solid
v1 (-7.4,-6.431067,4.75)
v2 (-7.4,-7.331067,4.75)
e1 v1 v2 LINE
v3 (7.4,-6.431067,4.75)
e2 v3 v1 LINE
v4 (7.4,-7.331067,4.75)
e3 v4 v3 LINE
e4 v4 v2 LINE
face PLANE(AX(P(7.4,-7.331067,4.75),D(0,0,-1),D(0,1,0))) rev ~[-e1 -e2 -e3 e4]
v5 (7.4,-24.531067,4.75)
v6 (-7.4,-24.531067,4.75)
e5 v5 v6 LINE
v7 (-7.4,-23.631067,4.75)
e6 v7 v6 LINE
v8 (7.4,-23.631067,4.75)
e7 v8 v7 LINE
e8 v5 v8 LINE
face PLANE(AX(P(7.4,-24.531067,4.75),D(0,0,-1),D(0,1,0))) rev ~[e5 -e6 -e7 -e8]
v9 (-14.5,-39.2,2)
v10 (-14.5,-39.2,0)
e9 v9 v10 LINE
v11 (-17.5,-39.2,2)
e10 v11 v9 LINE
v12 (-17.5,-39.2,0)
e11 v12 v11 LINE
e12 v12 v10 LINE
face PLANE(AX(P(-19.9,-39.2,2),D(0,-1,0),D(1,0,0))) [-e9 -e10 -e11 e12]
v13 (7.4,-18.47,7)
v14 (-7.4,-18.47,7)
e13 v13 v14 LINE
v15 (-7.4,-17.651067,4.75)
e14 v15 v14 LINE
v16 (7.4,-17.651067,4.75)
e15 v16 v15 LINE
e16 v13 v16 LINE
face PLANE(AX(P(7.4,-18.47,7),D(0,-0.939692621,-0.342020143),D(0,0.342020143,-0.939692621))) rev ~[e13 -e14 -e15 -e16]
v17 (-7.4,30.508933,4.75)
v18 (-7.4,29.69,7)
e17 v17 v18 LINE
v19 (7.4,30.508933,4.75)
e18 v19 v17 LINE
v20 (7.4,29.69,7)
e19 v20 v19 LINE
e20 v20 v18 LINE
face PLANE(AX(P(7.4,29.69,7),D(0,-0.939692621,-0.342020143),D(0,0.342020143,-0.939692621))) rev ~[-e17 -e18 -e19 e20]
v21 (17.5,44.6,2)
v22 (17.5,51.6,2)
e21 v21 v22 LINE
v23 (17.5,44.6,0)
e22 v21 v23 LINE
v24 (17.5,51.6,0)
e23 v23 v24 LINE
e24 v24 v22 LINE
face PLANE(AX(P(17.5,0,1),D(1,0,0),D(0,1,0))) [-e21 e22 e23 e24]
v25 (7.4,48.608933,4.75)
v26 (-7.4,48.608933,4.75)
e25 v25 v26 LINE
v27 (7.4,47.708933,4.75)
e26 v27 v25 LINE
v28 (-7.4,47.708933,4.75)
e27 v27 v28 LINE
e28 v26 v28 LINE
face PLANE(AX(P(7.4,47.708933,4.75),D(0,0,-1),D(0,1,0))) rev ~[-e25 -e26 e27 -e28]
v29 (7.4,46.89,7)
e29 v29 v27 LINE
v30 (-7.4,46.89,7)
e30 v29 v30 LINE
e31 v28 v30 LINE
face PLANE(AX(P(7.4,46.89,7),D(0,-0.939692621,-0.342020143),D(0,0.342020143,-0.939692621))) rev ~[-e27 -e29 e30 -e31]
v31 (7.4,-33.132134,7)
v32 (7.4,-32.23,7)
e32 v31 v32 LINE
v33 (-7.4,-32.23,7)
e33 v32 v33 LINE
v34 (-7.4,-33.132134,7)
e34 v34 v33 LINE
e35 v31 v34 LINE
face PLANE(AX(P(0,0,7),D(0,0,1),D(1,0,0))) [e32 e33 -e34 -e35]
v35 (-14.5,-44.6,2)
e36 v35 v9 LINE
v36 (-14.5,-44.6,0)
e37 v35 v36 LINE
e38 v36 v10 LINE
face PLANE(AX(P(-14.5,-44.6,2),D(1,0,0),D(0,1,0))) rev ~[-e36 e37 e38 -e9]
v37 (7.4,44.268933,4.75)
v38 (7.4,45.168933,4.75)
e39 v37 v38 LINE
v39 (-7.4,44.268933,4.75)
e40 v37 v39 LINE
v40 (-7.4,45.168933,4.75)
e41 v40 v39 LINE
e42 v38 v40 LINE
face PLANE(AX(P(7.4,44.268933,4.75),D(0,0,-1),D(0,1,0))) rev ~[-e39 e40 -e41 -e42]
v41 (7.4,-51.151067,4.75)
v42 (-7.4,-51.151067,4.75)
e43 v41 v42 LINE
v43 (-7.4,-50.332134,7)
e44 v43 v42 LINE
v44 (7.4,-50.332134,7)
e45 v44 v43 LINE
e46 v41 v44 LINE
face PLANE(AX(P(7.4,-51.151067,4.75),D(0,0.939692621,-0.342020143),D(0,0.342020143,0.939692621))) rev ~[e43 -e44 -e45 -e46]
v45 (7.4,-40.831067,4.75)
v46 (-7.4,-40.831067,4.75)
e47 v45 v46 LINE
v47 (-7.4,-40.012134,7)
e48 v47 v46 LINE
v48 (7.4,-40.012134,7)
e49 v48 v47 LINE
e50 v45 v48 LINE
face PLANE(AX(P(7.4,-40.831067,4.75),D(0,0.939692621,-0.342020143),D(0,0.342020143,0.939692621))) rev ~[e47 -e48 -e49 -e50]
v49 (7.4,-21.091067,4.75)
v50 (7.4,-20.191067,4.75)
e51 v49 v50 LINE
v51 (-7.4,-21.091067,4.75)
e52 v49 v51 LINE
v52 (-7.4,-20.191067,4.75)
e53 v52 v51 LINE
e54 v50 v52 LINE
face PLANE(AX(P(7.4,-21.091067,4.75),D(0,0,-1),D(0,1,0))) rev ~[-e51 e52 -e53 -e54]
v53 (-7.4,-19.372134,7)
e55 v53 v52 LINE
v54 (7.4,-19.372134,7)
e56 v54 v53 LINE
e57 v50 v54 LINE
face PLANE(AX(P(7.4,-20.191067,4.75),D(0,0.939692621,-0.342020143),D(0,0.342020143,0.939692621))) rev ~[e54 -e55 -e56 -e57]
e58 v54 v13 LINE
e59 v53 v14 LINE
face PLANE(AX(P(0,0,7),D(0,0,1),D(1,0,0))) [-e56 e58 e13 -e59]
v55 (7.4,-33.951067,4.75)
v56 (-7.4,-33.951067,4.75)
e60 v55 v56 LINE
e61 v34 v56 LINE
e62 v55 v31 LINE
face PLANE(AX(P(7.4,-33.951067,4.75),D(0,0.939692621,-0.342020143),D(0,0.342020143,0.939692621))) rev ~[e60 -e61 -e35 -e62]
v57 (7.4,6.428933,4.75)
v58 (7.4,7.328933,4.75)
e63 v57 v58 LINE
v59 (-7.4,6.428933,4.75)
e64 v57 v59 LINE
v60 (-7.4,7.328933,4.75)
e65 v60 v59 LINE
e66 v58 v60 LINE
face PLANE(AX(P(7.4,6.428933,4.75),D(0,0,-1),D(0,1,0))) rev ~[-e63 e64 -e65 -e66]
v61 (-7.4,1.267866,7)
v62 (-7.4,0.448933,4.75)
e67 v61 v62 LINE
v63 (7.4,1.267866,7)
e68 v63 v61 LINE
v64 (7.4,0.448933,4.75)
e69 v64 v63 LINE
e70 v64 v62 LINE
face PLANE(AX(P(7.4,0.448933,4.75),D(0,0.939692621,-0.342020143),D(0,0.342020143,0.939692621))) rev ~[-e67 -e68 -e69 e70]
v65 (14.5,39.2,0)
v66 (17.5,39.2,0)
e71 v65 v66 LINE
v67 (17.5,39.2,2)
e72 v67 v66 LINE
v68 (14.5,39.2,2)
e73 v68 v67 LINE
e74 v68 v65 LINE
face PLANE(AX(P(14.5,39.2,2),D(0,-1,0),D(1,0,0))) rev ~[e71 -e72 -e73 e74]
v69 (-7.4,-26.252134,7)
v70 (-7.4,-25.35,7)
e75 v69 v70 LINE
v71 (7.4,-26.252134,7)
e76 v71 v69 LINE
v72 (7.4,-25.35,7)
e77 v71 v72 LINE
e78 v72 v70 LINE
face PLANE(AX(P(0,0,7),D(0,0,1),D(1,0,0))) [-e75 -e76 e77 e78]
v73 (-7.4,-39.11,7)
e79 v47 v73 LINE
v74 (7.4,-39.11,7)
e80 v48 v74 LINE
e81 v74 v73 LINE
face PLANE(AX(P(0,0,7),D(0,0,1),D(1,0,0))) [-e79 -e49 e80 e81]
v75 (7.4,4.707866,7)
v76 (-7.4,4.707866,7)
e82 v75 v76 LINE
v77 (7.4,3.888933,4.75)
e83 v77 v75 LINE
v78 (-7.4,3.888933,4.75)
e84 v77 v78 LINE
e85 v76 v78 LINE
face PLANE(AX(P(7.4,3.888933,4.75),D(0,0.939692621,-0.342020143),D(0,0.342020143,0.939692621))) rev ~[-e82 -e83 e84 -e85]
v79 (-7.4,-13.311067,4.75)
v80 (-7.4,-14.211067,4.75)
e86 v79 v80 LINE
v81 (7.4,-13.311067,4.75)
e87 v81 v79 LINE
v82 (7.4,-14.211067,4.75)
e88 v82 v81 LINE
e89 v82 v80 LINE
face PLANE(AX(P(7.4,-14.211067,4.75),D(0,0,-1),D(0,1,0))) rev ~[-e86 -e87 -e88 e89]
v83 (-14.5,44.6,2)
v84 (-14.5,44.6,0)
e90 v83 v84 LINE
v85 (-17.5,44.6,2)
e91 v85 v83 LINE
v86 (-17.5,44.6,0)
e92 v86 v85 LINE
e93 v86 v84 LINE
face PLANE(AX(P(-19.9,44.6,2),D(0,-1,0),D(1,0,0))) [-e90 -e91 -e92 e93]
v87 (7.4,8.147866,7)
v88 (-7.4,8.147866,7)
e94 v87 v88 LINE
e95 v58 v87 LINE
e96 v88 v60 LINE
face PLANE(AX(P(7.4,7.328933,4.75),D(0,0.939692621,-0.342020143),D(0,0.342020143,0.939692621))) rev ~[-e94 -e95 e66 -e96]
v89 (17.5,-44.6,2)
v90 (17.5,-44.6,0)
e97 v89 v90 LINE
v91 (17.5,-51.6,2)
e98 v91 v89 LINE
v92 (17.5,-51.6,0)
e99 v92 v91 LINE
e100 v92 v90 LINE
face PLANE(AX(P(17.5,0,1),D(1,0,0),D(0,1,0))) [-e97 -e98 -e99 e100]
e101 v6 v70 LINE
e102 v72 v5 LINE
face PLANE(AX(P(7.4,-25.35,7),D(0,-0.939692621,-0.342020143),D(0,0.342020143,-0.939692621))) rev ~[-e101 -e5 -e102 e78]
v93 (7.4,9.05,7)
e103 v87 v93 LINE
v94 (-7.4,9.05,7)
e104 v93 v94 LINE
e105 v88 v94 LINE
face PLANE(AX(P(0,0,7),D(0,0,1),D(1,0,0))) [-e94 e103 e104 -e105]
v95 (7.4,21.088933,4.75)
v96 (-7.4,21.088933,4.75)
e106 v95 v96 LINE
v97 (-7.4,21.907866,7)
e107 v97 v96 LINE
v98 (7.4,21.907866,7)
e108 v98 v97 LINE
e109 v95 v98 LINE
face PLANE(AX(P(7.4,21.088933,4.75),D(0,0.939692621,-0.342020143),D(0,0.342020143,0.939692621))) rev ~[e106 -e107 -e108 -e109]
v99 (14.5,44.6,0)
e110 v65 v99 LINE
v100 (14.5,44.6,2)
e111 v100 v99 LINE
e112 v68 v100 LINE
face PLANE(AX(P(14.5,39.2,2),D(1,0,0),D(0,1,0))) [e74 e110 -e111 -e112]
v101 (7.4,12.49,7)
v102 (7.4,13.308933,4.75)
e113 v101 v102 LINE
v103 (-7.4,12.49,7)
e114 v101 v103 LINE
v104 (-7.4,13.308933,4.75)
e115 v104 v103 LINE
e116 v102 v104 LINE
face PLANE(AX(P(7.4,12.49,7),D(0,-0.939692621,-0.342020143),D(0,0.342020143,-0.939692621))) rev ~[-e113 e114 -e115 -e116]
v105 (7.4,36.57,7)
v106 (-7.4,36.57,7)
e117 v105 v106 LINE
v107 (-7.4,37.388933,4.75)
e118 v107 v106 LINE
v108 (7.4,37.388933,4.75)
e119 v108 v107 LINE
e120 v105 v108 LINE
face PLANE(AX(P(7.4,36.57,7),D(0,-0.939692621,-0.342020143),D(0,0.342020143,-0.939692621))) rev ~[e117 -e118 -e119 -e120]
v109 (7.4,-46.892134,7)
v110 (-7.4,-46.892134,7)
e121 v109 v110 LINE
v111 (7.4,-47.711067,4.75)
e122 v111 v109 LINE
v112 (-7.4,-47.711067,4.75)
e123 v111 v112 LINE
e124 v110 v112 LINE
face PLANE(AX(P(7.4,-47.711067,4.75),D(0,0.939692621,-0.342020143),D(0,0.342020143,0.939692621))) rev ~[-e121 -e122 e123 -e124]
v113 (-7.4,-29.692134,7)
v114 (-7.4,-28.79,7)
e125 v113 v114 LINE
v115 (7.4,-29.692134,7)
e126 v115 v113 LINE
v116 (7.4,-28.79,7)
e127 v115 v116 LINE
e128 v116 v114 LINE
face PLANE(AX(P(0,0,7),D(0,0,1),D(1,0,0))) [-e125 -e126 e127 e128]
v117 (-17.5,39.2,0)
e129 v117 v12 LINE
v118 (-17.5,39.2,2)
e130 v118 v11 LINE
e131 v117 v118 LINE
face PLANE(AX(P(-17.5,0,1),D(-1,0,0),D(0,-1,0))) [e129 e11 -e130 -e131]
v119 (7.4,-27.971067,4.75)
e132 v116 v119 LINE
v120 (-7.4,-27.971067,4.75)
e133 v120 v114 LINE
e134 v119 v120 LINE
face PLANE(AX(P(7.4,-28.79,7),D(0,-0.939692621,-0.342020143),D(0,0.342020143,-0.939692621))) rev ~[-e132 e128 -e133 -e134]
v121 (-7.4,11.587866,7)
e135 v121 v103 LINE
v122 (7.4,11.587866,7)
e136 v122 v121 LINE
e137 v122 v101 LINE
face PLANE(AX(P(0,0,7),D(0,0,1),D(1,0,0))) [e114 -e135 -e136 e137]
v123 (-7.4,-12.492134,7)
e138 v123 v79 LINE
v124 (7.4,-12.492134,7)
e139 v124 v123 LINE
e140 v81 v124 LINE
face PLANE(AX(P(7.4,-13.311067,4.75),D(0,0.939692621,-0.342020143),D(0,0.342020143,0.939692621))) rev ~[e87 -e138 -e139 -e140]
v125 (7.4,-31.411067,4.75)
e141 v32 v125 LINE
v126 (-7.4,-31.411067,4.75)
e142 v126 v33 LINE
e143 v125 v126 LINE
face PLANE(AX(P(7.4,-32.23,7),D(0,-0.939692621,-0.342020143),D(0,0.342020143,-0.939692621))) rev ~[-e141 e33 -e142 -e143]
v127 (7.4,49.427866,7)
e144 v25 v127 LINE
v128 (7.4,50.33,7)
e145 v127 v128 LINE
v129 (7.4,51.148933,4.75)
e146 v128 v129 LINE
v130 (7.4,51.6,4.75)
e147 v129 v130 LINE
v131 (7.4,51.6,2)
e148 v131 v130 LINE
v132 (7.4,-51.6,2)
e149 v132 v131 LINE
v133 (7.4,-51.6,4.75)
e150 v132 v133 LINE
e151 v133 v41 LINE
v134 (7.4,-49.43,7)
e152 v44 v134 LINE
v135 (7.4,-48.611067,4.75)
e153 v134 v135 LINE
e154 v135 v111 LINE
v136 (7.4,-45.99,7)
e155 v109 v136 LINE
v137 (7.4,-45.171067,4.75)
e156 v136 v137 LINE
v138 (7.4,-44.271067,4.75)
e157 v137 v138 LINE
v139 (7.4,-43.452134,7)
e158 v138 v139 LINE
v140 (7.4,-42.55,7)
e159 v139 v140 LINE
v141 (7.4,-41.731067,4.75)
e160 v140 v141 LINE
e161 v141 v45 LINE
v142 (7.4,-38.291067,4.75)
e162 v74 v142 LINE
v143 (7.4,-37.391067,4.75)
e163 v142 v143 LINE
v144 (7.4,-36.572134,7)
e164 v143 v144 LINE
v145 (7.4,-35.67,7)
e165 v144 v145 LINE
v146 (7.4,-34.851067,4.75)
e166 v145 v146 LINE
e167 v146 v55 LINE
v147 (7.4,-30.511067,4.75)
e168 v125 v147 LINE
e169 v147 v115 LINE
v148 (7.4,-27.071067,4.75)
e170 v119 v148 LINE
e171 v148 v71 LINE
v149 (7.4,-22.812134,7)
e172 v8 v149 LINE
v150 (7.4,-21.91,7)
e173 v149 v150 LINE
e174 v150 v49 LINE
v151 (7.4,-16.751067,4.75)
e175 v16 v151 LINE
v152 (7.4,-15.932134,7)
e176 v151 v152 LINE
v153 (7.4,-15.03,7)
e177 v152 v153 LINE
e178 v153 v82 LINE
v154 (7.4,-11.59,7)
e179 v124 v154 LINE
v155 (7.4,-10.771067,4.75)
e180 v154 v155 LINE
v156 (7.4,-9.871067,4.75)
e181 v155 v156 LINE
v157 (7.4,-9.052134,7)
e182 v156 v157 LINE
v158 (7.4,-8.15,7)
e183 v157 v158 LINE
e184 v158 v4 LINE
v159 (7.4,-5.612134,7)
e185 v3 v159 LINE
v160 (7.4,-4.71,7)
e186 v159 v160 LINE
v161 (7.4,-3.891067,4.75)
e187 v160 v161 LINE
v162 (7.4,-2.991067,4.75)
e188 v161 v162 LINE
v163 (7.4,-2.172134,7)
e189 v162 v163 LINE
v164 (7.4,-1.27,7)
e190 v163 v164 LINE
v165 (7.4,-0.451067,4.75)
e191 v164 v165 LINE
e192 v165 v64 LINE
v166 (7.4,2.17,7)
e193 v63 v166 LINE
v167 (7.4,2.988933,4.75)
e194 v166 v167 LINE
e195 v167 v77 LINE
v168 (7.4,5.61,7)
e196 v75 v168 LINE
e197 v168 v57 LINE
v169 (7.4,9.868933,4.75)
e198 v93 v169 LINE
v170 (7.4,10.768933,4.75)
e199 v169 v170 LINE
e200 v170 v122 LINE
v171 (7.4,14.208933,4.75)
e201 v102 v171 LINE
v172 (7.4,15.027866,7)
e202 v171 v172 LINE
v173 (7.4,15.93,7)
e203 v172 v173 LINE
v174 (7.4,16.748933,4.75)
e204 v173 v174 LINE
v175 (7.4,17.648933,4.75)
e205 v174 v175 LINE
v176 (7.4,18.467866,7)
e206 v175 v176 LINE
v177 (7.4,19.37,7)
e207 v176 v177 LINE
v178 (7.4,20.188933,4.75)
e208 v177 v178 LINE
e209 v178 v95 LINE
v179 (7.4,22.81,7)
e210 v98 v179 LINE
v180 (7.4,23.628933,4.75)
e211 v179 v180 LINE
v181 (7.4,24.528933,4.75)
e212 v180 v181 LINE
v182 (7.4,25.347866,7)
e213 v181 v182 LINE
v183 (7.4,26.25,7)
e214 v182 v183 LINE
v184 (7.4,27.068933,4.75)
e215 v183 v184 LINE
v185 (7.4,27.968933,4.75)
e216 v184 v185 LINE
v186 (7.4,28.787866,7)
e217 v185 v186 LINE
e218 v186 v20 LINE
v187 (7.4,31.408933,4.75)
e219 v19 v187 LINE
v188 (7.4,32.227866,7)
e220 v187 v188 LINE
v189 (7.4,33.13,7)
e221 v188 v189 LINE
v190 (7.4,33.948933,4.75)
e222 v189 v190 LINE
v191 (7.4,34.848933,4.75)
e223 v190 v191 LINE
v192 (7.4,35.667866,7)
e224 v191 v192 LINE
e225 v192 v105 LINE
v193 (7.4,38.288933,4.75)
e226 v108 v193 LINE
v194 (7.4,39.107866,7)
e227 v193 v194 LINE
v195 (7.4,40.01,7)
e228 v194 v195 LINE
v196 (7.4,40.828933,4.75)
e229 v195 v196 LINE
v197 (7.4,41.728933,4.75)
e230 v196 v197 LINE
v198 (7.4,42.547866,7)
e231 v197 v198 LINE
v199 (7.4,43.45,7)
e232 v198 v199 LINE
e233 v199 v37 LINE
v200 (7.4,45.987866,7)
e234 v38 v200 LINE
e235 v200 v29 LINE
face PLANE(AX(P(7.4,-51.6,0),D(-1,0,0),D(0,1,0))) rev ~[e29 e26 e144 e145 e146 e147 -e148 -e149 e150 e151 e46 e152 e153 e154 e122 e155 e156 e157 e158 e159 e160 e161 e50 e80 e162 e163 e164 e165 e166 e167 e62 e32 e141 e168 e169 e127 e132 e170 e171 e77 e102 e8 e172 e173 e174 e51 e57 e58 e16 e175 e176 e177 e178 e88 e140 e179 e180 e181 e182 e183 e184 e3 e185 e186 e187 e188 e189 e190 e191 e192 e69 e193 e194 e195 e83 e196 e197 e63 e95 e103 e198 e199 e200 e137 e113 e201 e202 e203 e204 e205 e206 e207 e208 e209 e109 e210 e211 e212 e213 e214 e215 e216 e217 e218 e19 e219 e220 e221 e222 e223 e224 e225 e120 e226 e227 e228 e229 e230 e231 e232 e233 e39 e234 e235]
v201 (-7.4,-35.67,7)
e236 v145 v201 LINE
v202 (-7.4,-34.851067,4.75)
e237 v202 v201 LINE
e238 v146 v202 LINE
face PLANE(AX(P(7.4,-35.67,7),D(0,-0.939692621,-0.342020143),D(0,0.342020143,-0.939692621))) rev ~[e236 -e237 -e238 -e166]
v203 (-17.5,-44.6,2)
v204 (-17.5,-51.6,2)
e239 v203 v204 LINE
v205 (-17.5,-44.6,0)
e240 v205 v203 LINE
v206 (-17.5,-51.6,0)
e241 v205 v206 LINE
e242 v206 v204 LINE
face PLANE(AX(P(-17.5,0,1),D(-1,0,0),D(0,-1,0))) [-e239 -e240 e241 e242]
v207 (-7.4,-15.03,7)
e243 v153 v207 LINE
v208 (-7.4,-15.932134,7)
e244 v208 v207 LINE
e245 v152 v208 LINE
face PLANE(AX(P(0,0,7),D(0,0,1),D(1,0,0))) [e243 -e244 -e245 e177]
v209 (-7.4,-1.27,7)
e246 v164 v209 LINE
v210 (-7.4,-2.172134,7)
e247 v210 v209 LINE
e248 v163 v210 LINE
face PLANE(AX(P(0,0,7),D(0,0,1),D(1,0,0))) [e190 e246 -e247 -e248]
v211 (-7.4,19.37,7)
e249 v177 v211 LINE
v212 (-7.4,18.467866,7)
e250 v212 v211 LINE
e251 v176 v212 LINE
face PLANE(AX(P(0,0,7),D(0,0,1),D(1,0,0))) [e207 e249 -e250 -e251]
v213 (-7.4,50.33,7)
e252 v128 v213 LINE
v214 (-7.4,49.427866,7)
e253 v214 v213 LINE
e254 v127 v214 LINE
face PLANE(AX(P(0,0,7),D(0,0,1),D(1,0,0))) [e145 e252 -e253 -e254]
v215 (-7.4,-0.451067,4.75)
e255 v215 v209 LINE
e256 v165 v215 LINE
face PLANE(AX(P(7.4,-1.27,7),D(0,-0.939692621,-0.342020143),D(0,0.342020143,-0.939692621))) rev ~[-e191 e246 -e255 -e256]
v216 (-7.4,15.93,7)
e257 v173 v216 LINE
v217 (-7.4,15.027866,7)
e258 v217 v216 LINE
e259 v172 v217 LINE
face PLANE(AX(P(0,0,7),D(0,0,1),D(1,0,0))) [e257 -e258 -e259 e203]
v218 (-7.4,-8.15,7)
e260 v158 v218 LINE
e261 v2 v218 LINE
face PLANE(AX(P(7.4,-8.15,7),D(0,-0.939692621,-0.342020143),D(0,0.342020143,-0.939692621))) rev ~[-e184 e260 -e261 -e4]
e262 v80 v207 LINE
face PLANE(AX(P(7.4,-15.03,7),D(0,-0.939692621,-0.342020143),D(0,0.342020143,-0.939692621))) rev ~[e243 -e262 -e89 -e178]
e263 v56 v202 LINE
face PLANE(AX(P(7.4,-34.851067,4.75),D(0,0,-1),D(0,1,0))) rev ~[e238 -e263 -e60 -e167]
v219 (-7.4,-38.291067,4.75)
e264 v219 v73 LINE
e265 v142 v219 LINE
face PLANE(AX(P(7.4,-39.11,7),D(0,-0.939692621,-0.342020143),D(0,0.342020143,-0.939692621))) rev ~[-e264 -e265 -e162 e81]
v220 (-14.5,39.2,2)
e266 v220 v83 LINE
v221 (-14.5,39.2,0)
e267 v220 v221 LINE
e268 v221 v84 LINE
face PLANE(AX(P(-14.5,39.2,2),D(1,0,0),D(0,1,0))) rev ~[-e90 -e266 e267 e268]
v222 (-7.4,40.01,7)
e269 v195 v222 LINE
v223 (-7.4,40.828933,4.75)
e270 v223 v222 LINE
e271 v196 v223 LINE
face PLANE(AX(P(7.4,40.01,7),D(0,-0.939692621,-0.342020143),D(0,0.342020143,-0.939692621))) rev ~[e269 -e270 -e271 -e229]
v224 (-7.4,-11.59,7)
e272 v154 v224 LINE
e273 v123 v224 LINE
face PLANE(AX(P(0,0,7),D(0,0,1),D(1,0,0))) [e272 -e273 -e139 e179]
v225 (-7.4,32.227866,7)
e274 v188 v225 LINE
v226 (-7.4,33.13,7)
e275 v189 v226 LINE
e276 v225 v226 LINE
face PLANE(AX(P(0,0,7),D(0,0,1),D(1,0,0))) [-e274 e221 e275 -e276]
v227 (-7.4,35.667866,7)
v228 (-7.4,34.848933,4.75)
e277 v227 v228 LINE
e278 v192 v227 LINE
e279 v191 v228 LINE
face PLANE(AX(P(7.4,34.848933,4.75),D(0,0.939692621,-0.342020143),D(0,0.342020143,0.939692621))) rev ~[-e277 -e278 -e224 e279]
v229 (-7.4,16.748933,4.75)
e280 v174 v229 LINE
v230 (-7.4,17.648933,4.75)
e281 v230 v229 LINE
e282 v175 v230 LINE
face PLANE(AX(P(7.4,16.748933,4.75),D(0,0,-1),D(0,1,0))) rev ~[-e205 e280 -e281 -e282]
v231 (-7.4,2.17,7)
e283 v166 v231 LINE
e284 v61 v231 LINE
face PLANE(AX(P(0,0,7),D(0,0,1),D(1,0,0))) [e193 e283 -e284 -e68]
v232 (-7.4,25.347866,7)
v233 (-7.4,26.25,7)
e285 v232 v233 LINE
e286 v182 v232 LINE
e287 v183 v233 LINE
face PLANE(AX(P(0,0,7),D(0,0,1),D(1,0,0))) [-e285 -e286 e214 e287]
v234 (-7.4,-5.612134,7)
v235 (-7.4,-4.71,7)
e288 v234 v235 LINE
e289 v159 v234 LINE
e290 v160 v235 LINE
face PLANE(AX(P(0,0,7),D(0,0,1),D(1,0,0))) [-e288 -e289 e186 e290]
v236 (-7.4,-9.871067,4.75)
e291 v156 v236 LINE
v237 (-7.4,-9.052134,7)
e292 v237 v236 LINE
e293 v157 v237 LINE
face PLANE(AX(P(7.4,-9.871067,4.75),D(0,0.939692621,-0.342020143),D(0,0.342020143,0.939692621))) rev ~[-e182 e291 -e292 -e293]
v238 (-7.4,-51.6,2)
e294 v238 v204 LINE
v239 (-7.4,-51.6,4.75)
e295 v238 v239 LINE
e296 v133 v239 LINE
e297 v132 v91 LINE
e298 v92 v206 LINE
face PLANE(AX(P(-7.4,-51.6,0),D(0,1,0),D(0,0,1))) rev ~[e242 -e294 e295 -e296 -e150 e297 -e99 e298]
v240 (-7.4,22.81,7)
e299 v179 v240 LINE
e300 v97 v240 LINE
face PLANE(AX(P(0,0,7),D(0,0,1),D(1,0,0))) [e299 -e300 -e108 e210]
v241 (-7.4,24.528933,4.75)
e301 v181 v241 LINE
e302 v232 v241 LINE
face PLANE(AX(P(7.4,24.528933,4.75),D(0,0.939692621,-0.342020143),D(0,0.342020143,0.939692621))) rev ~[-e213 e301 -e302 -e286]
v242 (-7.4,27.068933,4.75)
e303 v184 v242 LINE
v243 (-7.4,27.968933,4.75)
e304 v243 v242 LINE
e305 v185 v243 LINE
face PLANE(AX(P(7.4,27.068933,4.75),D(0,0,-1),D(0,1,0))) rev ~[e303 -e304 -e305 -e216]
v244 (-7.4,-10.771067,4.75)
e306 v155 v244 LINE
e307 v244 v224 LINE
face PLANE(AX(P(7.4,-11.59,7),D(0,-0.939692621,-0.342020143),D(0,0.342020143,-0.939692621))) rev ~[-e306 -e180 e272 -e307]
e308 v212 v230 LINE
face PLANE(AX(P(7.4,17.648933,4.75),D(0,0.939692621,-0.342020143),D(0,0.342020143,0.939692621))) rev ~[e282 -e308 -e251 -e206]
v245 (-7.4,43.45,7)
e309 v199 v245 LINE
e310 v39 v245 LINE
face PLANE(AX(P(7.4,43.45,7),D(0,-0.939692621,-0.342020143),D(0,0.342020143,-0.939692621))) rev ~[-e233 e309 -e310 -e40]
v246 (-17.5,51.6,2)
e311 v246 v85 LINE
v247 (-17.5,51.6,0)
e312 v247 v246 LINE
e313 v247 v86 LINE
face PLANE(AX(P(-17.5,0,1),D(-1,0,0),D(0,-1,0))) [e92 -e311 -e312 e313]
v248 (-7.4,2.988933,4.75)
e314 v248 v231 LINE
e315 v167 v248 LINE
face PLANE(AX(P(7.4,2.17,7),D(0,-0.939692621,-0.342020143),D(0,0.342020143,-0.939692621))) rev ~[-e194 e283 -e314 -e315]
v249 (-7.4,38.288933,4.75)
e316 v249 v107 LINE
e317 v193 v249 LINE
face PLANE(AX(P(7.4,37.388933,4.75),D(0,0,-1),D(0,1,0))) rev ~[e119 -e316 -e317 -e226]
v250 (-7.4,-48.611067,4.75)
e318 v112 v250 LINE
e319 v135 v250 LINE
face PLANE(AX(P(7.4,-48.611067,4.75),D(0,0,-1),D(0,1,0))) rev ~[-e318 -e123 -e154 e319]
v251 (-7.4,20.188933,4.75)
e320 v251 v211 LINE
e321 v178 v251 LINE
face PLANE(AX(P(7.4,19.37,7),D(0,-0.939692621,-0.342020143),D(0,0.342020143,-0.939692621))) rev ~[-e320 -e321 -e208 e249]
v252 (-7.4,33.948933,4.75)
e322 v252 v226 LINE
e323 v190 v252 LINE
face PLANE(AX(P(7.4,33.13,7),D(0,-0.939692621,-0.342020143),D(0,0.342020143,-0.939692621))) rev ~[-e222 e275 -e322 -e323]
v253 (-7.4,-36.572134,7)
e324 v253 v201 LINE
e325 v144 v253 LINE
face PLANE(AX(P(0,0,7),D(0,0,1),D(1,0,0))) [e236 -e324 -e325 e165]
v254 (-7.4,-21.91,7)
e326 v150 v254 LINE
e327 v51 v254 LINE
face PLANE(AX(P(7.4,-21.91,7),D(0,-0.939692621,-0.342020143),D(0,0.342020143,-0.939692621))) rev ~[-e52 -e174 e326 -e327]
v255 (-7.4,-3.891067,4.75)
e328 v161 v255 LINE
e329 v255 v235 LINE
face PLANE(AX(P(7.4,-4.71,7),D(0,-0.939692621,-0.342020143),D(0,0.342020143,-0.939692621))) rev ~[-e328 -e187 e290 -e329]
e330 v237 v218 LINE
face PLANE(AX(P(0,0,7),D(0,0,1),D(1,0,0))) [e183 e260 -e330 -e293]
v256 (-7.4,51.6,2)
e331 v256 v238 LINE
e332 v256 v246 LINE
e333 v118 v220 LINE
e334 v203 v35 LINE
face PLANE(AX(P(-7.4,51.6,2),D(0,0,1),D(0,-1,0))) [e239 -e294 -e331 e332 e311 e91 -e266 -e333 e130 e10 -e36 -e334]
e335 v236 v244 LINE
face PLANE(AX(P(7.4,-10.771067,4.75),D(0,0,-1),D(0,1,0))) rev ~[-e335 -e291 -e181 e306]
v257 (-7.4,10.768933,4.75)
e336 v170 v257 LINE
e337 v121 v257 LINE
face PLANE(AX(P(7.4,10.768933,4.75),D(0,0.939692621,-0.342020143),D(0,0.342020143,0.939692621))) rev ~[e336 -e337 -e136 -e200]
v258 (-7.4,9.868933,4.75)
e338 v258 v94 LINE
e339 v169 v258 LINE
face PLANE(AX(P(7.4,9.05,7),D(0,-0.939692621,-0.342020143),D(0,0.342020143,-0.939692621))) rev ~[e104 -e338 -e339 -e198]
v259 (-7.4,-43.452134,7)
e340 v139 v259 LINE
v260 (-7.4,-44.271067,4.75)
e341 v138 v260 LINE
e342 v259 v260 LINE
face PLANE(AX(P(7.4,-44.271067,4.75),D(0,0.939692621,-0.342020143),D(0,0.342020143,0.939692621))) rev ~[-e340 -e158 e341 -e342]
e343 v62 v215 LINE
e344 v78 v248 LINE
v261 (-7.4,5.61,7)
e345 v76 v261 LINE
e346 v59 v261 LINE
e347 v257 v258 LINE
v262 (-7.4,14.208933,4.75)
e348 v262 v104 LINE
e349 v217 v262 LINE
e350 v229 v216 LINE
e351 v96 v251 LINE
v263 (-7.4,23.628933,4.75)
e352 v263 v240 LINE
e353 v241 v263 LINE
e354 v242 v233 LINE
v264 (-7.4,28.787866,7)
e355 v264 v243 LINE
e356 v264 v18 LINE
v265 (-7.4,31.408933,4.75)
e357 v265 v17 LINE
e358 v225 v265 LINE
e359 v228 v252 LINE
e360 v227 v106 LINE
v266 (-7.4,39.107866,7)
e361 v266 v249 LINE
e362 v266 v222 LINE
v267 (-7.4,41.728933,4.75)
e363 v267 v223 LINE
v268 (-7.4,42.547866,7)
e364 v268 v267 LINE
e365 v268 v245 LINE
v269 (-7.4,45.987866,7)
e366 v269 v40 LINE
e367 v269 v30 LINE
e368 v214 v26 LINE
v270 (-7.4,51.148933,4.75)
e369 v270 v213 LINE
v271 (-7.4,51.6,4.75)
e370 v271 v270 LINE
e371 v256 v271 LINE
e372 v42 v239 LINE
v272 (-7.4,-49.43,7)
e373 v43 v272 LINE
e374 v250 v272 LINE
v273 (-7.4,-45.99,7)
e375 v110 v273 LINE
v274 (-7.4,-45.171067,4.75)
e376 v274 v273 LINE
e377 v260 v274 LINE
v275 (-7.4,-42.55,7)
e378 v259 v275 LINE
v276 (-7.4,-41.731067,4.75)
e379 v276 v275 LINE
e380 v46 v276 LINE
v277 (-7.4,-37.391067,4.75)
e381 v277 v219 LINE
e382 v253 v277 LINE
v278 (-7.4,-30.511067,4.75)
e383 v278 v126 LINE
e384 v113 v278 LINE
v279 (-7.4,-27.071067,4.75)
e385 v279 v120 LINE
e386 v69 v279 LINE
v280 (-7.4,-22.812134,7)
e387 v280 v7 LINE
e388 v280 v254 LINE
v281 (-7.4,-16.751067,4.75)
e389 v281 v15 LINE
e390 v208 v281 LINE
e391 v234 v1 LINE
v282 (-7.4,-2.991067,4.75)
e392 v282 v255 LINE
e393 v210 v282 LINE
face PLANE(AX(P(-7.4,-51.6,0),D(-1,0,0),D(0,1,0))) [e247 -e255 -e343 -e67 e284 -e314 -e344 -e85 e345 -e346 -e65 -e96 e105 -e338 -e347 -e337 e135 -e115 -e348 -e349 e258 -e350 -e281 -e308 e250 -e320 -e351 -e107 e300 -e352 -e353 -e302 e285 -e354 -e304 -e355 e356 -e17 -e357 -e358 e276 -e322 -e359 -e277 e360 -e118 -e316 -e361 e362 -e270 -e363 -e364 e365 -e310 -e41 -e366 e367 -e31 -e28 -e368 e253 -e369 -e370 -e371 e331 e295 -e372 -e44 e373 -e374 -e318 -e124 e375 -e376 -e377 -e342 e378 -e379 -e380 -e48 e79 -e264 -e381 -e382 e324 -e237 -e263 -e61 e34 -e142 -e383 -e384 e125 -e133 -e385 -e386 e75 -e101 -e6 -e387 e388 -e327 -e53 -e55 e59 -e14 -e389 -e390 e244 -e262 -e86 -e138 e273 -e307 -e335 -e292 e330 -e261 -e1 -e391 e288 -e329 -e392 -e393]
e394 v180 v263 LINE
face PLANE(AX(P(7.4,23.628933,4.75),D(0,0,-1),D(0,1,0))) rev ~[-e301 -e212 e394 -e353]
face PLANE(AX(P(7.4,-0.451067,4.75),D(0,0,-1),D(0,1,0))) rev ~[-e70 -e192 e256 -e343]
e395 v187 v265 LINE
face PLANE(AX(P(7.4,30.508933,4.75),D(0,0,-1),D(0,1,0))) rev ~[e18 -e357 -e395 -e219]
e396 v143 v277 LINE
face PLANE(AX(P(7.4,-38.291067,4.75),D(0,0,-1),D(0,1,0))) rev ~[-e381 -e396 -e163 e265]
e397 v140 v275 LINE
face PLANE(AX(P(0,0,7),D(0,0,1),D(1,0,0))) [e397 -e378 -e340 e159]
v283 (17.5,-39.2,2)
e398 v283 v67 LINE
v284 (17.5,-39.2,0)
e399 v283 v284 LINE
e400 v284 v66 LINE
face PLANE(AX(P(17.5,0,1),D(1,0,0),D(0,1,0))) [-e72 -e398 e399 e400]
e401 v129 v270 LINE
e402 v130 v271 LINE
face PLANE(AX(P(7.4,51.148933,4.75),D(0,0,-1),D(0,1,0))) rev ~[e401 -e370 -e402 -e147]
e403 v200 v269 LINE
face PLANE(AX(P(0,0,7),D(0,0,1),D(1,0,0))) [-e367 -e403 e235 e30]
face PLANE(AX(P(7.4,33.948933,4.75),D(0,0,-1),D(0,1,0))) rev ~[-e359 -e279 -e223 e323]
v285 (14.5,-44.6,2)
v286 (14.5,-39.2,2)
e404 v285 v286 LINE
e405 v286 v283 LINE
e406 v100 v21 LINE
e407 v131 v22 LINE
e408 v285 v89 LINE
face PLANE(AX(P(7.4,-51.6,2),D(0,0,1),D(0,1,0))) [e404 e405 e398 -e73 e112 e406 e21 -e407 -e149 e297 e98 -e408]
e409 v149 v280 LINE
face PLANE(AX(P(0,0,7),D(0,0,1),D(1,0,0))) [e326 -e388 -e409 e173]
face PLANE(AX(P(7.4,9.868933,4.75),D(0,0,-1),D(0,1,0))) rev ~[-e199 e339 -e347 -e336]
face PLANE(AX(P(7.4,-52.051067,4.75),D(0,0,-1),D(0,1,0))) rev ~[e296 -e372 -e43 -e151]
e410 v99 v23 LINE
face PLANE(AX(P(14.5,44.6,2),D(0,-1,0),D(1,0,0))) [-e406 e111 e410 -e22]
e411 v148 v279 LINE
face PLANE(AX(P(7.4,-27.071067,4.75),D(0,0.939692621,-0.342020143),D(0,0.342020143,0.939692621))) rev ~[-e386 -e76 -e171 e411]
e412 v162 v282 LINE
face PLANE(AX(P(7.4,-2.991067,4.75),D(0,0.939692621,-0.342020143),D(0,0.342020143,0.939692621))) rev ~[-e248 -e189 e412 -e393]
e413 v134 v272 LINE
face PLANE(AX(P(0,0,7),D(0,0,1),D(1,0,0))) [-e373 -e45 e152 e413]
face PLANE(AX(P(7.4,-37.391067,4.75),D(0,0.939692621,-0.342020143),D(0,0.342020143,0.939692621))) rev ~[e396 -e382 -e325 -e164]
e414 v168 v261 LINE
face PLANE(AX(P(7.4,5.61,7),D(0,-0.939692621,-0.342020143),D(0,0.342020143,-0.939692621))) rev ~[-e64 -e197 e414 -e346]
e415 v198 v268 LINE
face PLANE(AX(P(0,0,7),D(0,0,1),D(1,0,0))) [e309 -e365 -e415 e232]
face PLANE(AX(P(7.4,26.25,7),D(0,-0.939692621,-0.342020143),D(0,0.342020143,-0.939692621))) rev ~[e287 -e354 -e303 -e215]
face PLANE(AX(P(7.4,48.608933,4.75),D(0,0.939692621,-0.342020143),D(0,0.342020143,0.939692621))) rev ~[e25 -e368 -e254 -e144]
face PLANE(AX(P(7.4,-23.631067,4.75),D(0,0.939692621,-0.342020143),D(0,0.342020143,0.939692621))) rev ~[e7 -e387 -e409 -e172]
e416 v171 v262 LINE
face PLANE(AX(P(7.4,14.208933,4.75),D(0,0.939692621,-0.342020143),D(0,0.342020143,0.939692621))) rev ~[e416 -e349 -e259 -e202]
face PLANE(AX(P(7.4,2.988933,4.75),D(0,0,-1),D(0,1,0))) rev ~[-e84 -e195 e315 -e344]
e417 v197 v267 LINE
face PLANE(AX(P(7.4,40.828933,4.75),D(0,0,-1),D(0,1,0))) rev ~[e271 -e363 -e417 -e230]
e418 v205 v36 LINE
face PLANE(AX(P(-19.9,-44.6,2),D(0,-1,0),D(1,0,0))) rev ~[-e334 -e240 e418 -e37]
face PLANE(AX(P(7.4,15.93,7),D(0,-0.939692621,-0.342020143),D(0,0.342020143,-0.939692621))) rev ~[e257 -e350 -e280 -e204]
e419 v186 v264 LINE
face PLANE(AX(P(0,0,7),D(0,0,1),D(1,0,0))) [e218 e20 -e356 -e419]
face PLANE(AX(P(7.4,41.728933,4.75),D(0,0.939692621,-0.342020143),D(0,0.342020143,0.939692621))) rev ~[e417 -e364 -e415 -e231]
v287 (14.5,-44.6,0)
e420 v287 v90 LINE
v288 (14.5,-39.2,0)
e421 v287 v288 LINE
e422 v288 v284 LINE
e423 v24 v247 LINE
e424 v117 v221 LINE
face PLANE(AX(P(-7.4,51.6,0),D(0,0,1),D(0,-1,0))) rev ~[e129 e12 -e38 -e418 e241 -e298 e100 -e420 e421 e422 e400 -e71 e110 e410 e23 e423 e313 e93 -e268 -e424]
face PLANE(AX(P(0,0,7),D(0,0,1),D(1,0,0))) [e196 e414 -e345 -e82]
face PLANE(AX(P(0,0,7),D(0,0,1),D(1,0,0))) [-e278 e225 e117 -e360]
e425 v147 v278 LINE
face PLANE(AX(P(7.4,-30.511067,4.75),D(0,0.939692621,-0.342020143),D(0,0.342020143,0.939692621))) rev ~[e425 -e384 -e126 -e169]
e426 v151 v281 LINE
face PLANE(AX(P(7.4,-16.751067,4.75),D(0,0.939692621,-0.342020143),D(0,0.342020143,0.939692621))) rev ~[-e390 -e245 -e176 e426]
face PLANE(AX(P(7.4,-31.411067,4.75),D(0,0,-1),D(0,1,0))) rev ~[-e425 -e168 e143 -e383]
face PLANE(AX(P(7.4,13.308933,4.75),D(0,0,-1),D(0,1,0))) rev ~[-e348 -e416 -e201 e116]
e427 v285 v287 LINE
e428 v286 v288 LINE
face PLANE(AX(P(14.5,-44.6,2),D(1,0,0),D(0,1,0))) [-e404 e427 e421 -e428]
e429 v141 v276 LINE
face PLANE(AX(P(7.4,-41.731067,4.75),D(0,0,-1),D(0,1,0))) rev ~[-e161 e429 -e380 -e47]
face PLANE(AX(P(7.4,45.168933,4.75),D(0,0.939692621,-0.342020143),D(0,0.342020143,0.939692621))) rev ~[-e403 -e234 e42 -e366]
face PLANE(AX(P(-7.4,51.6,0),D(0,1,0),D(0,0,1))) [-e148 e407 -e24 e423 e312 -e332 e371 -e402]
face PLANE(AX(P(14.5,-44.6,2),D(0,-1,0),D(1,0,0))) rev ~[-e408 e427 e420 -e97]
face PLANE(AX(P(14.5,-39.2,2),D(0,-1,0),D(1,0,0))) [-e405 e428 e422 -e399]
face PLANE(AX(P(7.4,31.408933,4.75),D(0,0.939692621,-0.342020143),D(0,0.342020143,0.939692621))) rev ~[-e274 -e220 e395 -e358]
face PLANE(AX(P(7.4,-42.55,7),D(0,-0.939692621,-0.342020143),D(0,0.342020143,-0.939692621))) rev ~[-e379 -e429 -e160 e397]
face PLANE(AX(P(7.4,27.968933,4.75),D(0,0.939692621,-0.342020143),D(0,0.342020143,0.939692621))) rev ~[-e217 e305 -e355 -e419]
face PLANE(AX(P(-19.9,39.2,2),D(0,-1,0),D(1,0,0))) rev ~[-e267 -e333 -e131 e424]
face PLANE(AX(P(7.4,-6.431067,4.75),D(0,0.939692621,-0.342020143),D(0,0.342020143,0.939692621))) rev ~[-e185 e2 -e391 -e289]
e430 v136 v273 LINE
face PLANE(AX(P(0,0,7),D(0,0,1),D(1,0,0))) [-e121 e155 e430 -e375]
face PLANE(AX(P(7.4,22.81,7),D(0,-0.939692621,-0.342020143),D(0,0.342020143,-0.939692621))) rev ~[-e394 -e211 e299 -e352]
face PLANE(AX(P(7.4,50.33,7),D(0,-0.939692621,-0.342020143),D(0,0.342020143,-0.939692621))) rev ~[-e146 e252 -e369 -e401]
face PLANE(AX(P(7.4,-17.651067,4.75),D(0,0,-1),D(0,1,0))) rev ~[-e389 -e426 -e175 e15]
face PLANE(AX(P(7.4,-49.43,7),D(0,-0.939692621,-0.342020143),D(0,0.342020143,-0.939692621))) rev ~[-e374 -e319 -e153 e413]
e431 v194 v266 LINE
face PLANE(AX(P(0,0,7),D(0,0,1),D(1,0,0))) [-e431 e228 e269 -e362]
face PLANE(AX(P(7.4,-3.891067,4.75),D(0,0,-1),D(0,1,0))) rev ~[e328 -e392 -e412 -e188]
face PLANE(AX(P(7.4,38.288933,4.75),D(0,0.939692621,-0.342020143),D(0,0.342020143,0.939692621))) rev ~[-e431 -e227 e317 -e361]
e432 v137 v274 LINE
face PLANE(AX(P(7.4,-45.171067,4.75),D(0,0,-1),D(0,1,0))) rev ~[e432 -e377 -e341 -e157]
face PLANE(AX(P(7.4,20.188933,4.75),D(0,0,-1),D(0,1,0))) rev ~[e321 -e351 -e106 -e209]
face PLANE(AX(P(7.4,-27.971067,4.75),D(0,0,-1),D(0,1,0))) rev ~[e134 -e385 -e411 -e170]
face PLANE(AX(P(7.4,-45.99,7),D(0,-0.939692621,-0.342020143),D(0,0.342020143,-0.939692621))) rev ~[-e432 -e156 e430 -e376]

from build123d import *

# Parameters (mm, degrees)
SKETCH7_W           = 14.8
SKETCH7_H           = 103.2
BOSS_EXTRUDE4_DEPTH = 7
CUT_EXTRUDE2_DEPTH  = 15
LPATTERN1_COUNT     = 31
LPATTERN1_PITCH     = 3.44
SKETCH10_W          = 103.2
SKETCH10_H          = 2
BOSS_EXTRUDE5_DEPTH = 10.1
SKETCH11_W          = 103.2
SKETCH11_H          = 2
BOSS_EXTRUDE6_DEPTH = 10.1
SKETCH12_W          = 5.4
SKETCH12_H          = 5.4
CUT_EXTRUDE3_DEPTH  = 55.715719862


with BuildPart() as part:
    # Sketch7 → Boss-Extrude4 (new body)
    with BuildSketch(Plane.XY):
        Rectangle(SKETCH7_W, SKETCH7_H)
    extrude(amount=BOSS_EXTRUDE4_DEPTH)

    # Sketch9 → Cut-Extrude2 (cut)
    with BuildSketch(Plane.YZ.offset(7.4)):
        Polygon((-52.87, 7), (-52.051066973, 4.75), (-51.151066973, 4.75), (-50.332133946, 7), align=None)
    cut_extrude2 = extrude(amount=-CUT_EXTRUDE2_DEPTH, mode=Mode.SUBTRACT)

    # LPattern1: Cut-Extrude2 ×31
    with Locations(*[(0, i * LPATTERN1_PITCH, 0) for i in range(1, LPATTERN1_COUNT)]):
        add(cut_extrude2, mode=Mode.SUBTRACT)

    # Sketch10 → Boss-Extrude5 (add)
    with BuildSketch(Plane.YZ.offset(7.4)):
        with Locations((0, 1)):
            Rectangle(SKETCH10_W, SKETCH10_H)
    extrude(amount=BOSS_EXTRUDE5_DEPTH)

    # Sketch11 → Boss-Extrude6 (add)
    with BuildSketch(Plane(origin=(-7.4, 0, 0), x_dir=(0, -1, 0), z_dir=(-1, 0, 0))):
        with Locations((0, 1)):
            Rectangle(SKETCH11_W, SKETCH11_H)
    extrude(amount=BOSS_EXTRUDE6_DEPTH)

    # Sketch12 → Cut-Extrude3 (cut, through all)
    with BuildSketch(Plane.XY.offset(2)):
        with Locations((17.2, -41.9)):
            Rectangle(SKETCH12_W, SKETCH12_H)
        with Locations((17.2, 41.9)):
            Rectangle(SKETCH12_W, SKETCH12_H)
        with Locations((-17.2, 41.9)):
            Rectangle(SKETCH12_W, SKETCH12_H)
        with Locations((-17.2, -41.9)):
            Rectangle(SKETCH12_W, SKETCH12_H)
    extrude(amount=-CUT_EXTRUDE3_DEPTH, mode=Mode.SUBTRACT)


solid = part.part
